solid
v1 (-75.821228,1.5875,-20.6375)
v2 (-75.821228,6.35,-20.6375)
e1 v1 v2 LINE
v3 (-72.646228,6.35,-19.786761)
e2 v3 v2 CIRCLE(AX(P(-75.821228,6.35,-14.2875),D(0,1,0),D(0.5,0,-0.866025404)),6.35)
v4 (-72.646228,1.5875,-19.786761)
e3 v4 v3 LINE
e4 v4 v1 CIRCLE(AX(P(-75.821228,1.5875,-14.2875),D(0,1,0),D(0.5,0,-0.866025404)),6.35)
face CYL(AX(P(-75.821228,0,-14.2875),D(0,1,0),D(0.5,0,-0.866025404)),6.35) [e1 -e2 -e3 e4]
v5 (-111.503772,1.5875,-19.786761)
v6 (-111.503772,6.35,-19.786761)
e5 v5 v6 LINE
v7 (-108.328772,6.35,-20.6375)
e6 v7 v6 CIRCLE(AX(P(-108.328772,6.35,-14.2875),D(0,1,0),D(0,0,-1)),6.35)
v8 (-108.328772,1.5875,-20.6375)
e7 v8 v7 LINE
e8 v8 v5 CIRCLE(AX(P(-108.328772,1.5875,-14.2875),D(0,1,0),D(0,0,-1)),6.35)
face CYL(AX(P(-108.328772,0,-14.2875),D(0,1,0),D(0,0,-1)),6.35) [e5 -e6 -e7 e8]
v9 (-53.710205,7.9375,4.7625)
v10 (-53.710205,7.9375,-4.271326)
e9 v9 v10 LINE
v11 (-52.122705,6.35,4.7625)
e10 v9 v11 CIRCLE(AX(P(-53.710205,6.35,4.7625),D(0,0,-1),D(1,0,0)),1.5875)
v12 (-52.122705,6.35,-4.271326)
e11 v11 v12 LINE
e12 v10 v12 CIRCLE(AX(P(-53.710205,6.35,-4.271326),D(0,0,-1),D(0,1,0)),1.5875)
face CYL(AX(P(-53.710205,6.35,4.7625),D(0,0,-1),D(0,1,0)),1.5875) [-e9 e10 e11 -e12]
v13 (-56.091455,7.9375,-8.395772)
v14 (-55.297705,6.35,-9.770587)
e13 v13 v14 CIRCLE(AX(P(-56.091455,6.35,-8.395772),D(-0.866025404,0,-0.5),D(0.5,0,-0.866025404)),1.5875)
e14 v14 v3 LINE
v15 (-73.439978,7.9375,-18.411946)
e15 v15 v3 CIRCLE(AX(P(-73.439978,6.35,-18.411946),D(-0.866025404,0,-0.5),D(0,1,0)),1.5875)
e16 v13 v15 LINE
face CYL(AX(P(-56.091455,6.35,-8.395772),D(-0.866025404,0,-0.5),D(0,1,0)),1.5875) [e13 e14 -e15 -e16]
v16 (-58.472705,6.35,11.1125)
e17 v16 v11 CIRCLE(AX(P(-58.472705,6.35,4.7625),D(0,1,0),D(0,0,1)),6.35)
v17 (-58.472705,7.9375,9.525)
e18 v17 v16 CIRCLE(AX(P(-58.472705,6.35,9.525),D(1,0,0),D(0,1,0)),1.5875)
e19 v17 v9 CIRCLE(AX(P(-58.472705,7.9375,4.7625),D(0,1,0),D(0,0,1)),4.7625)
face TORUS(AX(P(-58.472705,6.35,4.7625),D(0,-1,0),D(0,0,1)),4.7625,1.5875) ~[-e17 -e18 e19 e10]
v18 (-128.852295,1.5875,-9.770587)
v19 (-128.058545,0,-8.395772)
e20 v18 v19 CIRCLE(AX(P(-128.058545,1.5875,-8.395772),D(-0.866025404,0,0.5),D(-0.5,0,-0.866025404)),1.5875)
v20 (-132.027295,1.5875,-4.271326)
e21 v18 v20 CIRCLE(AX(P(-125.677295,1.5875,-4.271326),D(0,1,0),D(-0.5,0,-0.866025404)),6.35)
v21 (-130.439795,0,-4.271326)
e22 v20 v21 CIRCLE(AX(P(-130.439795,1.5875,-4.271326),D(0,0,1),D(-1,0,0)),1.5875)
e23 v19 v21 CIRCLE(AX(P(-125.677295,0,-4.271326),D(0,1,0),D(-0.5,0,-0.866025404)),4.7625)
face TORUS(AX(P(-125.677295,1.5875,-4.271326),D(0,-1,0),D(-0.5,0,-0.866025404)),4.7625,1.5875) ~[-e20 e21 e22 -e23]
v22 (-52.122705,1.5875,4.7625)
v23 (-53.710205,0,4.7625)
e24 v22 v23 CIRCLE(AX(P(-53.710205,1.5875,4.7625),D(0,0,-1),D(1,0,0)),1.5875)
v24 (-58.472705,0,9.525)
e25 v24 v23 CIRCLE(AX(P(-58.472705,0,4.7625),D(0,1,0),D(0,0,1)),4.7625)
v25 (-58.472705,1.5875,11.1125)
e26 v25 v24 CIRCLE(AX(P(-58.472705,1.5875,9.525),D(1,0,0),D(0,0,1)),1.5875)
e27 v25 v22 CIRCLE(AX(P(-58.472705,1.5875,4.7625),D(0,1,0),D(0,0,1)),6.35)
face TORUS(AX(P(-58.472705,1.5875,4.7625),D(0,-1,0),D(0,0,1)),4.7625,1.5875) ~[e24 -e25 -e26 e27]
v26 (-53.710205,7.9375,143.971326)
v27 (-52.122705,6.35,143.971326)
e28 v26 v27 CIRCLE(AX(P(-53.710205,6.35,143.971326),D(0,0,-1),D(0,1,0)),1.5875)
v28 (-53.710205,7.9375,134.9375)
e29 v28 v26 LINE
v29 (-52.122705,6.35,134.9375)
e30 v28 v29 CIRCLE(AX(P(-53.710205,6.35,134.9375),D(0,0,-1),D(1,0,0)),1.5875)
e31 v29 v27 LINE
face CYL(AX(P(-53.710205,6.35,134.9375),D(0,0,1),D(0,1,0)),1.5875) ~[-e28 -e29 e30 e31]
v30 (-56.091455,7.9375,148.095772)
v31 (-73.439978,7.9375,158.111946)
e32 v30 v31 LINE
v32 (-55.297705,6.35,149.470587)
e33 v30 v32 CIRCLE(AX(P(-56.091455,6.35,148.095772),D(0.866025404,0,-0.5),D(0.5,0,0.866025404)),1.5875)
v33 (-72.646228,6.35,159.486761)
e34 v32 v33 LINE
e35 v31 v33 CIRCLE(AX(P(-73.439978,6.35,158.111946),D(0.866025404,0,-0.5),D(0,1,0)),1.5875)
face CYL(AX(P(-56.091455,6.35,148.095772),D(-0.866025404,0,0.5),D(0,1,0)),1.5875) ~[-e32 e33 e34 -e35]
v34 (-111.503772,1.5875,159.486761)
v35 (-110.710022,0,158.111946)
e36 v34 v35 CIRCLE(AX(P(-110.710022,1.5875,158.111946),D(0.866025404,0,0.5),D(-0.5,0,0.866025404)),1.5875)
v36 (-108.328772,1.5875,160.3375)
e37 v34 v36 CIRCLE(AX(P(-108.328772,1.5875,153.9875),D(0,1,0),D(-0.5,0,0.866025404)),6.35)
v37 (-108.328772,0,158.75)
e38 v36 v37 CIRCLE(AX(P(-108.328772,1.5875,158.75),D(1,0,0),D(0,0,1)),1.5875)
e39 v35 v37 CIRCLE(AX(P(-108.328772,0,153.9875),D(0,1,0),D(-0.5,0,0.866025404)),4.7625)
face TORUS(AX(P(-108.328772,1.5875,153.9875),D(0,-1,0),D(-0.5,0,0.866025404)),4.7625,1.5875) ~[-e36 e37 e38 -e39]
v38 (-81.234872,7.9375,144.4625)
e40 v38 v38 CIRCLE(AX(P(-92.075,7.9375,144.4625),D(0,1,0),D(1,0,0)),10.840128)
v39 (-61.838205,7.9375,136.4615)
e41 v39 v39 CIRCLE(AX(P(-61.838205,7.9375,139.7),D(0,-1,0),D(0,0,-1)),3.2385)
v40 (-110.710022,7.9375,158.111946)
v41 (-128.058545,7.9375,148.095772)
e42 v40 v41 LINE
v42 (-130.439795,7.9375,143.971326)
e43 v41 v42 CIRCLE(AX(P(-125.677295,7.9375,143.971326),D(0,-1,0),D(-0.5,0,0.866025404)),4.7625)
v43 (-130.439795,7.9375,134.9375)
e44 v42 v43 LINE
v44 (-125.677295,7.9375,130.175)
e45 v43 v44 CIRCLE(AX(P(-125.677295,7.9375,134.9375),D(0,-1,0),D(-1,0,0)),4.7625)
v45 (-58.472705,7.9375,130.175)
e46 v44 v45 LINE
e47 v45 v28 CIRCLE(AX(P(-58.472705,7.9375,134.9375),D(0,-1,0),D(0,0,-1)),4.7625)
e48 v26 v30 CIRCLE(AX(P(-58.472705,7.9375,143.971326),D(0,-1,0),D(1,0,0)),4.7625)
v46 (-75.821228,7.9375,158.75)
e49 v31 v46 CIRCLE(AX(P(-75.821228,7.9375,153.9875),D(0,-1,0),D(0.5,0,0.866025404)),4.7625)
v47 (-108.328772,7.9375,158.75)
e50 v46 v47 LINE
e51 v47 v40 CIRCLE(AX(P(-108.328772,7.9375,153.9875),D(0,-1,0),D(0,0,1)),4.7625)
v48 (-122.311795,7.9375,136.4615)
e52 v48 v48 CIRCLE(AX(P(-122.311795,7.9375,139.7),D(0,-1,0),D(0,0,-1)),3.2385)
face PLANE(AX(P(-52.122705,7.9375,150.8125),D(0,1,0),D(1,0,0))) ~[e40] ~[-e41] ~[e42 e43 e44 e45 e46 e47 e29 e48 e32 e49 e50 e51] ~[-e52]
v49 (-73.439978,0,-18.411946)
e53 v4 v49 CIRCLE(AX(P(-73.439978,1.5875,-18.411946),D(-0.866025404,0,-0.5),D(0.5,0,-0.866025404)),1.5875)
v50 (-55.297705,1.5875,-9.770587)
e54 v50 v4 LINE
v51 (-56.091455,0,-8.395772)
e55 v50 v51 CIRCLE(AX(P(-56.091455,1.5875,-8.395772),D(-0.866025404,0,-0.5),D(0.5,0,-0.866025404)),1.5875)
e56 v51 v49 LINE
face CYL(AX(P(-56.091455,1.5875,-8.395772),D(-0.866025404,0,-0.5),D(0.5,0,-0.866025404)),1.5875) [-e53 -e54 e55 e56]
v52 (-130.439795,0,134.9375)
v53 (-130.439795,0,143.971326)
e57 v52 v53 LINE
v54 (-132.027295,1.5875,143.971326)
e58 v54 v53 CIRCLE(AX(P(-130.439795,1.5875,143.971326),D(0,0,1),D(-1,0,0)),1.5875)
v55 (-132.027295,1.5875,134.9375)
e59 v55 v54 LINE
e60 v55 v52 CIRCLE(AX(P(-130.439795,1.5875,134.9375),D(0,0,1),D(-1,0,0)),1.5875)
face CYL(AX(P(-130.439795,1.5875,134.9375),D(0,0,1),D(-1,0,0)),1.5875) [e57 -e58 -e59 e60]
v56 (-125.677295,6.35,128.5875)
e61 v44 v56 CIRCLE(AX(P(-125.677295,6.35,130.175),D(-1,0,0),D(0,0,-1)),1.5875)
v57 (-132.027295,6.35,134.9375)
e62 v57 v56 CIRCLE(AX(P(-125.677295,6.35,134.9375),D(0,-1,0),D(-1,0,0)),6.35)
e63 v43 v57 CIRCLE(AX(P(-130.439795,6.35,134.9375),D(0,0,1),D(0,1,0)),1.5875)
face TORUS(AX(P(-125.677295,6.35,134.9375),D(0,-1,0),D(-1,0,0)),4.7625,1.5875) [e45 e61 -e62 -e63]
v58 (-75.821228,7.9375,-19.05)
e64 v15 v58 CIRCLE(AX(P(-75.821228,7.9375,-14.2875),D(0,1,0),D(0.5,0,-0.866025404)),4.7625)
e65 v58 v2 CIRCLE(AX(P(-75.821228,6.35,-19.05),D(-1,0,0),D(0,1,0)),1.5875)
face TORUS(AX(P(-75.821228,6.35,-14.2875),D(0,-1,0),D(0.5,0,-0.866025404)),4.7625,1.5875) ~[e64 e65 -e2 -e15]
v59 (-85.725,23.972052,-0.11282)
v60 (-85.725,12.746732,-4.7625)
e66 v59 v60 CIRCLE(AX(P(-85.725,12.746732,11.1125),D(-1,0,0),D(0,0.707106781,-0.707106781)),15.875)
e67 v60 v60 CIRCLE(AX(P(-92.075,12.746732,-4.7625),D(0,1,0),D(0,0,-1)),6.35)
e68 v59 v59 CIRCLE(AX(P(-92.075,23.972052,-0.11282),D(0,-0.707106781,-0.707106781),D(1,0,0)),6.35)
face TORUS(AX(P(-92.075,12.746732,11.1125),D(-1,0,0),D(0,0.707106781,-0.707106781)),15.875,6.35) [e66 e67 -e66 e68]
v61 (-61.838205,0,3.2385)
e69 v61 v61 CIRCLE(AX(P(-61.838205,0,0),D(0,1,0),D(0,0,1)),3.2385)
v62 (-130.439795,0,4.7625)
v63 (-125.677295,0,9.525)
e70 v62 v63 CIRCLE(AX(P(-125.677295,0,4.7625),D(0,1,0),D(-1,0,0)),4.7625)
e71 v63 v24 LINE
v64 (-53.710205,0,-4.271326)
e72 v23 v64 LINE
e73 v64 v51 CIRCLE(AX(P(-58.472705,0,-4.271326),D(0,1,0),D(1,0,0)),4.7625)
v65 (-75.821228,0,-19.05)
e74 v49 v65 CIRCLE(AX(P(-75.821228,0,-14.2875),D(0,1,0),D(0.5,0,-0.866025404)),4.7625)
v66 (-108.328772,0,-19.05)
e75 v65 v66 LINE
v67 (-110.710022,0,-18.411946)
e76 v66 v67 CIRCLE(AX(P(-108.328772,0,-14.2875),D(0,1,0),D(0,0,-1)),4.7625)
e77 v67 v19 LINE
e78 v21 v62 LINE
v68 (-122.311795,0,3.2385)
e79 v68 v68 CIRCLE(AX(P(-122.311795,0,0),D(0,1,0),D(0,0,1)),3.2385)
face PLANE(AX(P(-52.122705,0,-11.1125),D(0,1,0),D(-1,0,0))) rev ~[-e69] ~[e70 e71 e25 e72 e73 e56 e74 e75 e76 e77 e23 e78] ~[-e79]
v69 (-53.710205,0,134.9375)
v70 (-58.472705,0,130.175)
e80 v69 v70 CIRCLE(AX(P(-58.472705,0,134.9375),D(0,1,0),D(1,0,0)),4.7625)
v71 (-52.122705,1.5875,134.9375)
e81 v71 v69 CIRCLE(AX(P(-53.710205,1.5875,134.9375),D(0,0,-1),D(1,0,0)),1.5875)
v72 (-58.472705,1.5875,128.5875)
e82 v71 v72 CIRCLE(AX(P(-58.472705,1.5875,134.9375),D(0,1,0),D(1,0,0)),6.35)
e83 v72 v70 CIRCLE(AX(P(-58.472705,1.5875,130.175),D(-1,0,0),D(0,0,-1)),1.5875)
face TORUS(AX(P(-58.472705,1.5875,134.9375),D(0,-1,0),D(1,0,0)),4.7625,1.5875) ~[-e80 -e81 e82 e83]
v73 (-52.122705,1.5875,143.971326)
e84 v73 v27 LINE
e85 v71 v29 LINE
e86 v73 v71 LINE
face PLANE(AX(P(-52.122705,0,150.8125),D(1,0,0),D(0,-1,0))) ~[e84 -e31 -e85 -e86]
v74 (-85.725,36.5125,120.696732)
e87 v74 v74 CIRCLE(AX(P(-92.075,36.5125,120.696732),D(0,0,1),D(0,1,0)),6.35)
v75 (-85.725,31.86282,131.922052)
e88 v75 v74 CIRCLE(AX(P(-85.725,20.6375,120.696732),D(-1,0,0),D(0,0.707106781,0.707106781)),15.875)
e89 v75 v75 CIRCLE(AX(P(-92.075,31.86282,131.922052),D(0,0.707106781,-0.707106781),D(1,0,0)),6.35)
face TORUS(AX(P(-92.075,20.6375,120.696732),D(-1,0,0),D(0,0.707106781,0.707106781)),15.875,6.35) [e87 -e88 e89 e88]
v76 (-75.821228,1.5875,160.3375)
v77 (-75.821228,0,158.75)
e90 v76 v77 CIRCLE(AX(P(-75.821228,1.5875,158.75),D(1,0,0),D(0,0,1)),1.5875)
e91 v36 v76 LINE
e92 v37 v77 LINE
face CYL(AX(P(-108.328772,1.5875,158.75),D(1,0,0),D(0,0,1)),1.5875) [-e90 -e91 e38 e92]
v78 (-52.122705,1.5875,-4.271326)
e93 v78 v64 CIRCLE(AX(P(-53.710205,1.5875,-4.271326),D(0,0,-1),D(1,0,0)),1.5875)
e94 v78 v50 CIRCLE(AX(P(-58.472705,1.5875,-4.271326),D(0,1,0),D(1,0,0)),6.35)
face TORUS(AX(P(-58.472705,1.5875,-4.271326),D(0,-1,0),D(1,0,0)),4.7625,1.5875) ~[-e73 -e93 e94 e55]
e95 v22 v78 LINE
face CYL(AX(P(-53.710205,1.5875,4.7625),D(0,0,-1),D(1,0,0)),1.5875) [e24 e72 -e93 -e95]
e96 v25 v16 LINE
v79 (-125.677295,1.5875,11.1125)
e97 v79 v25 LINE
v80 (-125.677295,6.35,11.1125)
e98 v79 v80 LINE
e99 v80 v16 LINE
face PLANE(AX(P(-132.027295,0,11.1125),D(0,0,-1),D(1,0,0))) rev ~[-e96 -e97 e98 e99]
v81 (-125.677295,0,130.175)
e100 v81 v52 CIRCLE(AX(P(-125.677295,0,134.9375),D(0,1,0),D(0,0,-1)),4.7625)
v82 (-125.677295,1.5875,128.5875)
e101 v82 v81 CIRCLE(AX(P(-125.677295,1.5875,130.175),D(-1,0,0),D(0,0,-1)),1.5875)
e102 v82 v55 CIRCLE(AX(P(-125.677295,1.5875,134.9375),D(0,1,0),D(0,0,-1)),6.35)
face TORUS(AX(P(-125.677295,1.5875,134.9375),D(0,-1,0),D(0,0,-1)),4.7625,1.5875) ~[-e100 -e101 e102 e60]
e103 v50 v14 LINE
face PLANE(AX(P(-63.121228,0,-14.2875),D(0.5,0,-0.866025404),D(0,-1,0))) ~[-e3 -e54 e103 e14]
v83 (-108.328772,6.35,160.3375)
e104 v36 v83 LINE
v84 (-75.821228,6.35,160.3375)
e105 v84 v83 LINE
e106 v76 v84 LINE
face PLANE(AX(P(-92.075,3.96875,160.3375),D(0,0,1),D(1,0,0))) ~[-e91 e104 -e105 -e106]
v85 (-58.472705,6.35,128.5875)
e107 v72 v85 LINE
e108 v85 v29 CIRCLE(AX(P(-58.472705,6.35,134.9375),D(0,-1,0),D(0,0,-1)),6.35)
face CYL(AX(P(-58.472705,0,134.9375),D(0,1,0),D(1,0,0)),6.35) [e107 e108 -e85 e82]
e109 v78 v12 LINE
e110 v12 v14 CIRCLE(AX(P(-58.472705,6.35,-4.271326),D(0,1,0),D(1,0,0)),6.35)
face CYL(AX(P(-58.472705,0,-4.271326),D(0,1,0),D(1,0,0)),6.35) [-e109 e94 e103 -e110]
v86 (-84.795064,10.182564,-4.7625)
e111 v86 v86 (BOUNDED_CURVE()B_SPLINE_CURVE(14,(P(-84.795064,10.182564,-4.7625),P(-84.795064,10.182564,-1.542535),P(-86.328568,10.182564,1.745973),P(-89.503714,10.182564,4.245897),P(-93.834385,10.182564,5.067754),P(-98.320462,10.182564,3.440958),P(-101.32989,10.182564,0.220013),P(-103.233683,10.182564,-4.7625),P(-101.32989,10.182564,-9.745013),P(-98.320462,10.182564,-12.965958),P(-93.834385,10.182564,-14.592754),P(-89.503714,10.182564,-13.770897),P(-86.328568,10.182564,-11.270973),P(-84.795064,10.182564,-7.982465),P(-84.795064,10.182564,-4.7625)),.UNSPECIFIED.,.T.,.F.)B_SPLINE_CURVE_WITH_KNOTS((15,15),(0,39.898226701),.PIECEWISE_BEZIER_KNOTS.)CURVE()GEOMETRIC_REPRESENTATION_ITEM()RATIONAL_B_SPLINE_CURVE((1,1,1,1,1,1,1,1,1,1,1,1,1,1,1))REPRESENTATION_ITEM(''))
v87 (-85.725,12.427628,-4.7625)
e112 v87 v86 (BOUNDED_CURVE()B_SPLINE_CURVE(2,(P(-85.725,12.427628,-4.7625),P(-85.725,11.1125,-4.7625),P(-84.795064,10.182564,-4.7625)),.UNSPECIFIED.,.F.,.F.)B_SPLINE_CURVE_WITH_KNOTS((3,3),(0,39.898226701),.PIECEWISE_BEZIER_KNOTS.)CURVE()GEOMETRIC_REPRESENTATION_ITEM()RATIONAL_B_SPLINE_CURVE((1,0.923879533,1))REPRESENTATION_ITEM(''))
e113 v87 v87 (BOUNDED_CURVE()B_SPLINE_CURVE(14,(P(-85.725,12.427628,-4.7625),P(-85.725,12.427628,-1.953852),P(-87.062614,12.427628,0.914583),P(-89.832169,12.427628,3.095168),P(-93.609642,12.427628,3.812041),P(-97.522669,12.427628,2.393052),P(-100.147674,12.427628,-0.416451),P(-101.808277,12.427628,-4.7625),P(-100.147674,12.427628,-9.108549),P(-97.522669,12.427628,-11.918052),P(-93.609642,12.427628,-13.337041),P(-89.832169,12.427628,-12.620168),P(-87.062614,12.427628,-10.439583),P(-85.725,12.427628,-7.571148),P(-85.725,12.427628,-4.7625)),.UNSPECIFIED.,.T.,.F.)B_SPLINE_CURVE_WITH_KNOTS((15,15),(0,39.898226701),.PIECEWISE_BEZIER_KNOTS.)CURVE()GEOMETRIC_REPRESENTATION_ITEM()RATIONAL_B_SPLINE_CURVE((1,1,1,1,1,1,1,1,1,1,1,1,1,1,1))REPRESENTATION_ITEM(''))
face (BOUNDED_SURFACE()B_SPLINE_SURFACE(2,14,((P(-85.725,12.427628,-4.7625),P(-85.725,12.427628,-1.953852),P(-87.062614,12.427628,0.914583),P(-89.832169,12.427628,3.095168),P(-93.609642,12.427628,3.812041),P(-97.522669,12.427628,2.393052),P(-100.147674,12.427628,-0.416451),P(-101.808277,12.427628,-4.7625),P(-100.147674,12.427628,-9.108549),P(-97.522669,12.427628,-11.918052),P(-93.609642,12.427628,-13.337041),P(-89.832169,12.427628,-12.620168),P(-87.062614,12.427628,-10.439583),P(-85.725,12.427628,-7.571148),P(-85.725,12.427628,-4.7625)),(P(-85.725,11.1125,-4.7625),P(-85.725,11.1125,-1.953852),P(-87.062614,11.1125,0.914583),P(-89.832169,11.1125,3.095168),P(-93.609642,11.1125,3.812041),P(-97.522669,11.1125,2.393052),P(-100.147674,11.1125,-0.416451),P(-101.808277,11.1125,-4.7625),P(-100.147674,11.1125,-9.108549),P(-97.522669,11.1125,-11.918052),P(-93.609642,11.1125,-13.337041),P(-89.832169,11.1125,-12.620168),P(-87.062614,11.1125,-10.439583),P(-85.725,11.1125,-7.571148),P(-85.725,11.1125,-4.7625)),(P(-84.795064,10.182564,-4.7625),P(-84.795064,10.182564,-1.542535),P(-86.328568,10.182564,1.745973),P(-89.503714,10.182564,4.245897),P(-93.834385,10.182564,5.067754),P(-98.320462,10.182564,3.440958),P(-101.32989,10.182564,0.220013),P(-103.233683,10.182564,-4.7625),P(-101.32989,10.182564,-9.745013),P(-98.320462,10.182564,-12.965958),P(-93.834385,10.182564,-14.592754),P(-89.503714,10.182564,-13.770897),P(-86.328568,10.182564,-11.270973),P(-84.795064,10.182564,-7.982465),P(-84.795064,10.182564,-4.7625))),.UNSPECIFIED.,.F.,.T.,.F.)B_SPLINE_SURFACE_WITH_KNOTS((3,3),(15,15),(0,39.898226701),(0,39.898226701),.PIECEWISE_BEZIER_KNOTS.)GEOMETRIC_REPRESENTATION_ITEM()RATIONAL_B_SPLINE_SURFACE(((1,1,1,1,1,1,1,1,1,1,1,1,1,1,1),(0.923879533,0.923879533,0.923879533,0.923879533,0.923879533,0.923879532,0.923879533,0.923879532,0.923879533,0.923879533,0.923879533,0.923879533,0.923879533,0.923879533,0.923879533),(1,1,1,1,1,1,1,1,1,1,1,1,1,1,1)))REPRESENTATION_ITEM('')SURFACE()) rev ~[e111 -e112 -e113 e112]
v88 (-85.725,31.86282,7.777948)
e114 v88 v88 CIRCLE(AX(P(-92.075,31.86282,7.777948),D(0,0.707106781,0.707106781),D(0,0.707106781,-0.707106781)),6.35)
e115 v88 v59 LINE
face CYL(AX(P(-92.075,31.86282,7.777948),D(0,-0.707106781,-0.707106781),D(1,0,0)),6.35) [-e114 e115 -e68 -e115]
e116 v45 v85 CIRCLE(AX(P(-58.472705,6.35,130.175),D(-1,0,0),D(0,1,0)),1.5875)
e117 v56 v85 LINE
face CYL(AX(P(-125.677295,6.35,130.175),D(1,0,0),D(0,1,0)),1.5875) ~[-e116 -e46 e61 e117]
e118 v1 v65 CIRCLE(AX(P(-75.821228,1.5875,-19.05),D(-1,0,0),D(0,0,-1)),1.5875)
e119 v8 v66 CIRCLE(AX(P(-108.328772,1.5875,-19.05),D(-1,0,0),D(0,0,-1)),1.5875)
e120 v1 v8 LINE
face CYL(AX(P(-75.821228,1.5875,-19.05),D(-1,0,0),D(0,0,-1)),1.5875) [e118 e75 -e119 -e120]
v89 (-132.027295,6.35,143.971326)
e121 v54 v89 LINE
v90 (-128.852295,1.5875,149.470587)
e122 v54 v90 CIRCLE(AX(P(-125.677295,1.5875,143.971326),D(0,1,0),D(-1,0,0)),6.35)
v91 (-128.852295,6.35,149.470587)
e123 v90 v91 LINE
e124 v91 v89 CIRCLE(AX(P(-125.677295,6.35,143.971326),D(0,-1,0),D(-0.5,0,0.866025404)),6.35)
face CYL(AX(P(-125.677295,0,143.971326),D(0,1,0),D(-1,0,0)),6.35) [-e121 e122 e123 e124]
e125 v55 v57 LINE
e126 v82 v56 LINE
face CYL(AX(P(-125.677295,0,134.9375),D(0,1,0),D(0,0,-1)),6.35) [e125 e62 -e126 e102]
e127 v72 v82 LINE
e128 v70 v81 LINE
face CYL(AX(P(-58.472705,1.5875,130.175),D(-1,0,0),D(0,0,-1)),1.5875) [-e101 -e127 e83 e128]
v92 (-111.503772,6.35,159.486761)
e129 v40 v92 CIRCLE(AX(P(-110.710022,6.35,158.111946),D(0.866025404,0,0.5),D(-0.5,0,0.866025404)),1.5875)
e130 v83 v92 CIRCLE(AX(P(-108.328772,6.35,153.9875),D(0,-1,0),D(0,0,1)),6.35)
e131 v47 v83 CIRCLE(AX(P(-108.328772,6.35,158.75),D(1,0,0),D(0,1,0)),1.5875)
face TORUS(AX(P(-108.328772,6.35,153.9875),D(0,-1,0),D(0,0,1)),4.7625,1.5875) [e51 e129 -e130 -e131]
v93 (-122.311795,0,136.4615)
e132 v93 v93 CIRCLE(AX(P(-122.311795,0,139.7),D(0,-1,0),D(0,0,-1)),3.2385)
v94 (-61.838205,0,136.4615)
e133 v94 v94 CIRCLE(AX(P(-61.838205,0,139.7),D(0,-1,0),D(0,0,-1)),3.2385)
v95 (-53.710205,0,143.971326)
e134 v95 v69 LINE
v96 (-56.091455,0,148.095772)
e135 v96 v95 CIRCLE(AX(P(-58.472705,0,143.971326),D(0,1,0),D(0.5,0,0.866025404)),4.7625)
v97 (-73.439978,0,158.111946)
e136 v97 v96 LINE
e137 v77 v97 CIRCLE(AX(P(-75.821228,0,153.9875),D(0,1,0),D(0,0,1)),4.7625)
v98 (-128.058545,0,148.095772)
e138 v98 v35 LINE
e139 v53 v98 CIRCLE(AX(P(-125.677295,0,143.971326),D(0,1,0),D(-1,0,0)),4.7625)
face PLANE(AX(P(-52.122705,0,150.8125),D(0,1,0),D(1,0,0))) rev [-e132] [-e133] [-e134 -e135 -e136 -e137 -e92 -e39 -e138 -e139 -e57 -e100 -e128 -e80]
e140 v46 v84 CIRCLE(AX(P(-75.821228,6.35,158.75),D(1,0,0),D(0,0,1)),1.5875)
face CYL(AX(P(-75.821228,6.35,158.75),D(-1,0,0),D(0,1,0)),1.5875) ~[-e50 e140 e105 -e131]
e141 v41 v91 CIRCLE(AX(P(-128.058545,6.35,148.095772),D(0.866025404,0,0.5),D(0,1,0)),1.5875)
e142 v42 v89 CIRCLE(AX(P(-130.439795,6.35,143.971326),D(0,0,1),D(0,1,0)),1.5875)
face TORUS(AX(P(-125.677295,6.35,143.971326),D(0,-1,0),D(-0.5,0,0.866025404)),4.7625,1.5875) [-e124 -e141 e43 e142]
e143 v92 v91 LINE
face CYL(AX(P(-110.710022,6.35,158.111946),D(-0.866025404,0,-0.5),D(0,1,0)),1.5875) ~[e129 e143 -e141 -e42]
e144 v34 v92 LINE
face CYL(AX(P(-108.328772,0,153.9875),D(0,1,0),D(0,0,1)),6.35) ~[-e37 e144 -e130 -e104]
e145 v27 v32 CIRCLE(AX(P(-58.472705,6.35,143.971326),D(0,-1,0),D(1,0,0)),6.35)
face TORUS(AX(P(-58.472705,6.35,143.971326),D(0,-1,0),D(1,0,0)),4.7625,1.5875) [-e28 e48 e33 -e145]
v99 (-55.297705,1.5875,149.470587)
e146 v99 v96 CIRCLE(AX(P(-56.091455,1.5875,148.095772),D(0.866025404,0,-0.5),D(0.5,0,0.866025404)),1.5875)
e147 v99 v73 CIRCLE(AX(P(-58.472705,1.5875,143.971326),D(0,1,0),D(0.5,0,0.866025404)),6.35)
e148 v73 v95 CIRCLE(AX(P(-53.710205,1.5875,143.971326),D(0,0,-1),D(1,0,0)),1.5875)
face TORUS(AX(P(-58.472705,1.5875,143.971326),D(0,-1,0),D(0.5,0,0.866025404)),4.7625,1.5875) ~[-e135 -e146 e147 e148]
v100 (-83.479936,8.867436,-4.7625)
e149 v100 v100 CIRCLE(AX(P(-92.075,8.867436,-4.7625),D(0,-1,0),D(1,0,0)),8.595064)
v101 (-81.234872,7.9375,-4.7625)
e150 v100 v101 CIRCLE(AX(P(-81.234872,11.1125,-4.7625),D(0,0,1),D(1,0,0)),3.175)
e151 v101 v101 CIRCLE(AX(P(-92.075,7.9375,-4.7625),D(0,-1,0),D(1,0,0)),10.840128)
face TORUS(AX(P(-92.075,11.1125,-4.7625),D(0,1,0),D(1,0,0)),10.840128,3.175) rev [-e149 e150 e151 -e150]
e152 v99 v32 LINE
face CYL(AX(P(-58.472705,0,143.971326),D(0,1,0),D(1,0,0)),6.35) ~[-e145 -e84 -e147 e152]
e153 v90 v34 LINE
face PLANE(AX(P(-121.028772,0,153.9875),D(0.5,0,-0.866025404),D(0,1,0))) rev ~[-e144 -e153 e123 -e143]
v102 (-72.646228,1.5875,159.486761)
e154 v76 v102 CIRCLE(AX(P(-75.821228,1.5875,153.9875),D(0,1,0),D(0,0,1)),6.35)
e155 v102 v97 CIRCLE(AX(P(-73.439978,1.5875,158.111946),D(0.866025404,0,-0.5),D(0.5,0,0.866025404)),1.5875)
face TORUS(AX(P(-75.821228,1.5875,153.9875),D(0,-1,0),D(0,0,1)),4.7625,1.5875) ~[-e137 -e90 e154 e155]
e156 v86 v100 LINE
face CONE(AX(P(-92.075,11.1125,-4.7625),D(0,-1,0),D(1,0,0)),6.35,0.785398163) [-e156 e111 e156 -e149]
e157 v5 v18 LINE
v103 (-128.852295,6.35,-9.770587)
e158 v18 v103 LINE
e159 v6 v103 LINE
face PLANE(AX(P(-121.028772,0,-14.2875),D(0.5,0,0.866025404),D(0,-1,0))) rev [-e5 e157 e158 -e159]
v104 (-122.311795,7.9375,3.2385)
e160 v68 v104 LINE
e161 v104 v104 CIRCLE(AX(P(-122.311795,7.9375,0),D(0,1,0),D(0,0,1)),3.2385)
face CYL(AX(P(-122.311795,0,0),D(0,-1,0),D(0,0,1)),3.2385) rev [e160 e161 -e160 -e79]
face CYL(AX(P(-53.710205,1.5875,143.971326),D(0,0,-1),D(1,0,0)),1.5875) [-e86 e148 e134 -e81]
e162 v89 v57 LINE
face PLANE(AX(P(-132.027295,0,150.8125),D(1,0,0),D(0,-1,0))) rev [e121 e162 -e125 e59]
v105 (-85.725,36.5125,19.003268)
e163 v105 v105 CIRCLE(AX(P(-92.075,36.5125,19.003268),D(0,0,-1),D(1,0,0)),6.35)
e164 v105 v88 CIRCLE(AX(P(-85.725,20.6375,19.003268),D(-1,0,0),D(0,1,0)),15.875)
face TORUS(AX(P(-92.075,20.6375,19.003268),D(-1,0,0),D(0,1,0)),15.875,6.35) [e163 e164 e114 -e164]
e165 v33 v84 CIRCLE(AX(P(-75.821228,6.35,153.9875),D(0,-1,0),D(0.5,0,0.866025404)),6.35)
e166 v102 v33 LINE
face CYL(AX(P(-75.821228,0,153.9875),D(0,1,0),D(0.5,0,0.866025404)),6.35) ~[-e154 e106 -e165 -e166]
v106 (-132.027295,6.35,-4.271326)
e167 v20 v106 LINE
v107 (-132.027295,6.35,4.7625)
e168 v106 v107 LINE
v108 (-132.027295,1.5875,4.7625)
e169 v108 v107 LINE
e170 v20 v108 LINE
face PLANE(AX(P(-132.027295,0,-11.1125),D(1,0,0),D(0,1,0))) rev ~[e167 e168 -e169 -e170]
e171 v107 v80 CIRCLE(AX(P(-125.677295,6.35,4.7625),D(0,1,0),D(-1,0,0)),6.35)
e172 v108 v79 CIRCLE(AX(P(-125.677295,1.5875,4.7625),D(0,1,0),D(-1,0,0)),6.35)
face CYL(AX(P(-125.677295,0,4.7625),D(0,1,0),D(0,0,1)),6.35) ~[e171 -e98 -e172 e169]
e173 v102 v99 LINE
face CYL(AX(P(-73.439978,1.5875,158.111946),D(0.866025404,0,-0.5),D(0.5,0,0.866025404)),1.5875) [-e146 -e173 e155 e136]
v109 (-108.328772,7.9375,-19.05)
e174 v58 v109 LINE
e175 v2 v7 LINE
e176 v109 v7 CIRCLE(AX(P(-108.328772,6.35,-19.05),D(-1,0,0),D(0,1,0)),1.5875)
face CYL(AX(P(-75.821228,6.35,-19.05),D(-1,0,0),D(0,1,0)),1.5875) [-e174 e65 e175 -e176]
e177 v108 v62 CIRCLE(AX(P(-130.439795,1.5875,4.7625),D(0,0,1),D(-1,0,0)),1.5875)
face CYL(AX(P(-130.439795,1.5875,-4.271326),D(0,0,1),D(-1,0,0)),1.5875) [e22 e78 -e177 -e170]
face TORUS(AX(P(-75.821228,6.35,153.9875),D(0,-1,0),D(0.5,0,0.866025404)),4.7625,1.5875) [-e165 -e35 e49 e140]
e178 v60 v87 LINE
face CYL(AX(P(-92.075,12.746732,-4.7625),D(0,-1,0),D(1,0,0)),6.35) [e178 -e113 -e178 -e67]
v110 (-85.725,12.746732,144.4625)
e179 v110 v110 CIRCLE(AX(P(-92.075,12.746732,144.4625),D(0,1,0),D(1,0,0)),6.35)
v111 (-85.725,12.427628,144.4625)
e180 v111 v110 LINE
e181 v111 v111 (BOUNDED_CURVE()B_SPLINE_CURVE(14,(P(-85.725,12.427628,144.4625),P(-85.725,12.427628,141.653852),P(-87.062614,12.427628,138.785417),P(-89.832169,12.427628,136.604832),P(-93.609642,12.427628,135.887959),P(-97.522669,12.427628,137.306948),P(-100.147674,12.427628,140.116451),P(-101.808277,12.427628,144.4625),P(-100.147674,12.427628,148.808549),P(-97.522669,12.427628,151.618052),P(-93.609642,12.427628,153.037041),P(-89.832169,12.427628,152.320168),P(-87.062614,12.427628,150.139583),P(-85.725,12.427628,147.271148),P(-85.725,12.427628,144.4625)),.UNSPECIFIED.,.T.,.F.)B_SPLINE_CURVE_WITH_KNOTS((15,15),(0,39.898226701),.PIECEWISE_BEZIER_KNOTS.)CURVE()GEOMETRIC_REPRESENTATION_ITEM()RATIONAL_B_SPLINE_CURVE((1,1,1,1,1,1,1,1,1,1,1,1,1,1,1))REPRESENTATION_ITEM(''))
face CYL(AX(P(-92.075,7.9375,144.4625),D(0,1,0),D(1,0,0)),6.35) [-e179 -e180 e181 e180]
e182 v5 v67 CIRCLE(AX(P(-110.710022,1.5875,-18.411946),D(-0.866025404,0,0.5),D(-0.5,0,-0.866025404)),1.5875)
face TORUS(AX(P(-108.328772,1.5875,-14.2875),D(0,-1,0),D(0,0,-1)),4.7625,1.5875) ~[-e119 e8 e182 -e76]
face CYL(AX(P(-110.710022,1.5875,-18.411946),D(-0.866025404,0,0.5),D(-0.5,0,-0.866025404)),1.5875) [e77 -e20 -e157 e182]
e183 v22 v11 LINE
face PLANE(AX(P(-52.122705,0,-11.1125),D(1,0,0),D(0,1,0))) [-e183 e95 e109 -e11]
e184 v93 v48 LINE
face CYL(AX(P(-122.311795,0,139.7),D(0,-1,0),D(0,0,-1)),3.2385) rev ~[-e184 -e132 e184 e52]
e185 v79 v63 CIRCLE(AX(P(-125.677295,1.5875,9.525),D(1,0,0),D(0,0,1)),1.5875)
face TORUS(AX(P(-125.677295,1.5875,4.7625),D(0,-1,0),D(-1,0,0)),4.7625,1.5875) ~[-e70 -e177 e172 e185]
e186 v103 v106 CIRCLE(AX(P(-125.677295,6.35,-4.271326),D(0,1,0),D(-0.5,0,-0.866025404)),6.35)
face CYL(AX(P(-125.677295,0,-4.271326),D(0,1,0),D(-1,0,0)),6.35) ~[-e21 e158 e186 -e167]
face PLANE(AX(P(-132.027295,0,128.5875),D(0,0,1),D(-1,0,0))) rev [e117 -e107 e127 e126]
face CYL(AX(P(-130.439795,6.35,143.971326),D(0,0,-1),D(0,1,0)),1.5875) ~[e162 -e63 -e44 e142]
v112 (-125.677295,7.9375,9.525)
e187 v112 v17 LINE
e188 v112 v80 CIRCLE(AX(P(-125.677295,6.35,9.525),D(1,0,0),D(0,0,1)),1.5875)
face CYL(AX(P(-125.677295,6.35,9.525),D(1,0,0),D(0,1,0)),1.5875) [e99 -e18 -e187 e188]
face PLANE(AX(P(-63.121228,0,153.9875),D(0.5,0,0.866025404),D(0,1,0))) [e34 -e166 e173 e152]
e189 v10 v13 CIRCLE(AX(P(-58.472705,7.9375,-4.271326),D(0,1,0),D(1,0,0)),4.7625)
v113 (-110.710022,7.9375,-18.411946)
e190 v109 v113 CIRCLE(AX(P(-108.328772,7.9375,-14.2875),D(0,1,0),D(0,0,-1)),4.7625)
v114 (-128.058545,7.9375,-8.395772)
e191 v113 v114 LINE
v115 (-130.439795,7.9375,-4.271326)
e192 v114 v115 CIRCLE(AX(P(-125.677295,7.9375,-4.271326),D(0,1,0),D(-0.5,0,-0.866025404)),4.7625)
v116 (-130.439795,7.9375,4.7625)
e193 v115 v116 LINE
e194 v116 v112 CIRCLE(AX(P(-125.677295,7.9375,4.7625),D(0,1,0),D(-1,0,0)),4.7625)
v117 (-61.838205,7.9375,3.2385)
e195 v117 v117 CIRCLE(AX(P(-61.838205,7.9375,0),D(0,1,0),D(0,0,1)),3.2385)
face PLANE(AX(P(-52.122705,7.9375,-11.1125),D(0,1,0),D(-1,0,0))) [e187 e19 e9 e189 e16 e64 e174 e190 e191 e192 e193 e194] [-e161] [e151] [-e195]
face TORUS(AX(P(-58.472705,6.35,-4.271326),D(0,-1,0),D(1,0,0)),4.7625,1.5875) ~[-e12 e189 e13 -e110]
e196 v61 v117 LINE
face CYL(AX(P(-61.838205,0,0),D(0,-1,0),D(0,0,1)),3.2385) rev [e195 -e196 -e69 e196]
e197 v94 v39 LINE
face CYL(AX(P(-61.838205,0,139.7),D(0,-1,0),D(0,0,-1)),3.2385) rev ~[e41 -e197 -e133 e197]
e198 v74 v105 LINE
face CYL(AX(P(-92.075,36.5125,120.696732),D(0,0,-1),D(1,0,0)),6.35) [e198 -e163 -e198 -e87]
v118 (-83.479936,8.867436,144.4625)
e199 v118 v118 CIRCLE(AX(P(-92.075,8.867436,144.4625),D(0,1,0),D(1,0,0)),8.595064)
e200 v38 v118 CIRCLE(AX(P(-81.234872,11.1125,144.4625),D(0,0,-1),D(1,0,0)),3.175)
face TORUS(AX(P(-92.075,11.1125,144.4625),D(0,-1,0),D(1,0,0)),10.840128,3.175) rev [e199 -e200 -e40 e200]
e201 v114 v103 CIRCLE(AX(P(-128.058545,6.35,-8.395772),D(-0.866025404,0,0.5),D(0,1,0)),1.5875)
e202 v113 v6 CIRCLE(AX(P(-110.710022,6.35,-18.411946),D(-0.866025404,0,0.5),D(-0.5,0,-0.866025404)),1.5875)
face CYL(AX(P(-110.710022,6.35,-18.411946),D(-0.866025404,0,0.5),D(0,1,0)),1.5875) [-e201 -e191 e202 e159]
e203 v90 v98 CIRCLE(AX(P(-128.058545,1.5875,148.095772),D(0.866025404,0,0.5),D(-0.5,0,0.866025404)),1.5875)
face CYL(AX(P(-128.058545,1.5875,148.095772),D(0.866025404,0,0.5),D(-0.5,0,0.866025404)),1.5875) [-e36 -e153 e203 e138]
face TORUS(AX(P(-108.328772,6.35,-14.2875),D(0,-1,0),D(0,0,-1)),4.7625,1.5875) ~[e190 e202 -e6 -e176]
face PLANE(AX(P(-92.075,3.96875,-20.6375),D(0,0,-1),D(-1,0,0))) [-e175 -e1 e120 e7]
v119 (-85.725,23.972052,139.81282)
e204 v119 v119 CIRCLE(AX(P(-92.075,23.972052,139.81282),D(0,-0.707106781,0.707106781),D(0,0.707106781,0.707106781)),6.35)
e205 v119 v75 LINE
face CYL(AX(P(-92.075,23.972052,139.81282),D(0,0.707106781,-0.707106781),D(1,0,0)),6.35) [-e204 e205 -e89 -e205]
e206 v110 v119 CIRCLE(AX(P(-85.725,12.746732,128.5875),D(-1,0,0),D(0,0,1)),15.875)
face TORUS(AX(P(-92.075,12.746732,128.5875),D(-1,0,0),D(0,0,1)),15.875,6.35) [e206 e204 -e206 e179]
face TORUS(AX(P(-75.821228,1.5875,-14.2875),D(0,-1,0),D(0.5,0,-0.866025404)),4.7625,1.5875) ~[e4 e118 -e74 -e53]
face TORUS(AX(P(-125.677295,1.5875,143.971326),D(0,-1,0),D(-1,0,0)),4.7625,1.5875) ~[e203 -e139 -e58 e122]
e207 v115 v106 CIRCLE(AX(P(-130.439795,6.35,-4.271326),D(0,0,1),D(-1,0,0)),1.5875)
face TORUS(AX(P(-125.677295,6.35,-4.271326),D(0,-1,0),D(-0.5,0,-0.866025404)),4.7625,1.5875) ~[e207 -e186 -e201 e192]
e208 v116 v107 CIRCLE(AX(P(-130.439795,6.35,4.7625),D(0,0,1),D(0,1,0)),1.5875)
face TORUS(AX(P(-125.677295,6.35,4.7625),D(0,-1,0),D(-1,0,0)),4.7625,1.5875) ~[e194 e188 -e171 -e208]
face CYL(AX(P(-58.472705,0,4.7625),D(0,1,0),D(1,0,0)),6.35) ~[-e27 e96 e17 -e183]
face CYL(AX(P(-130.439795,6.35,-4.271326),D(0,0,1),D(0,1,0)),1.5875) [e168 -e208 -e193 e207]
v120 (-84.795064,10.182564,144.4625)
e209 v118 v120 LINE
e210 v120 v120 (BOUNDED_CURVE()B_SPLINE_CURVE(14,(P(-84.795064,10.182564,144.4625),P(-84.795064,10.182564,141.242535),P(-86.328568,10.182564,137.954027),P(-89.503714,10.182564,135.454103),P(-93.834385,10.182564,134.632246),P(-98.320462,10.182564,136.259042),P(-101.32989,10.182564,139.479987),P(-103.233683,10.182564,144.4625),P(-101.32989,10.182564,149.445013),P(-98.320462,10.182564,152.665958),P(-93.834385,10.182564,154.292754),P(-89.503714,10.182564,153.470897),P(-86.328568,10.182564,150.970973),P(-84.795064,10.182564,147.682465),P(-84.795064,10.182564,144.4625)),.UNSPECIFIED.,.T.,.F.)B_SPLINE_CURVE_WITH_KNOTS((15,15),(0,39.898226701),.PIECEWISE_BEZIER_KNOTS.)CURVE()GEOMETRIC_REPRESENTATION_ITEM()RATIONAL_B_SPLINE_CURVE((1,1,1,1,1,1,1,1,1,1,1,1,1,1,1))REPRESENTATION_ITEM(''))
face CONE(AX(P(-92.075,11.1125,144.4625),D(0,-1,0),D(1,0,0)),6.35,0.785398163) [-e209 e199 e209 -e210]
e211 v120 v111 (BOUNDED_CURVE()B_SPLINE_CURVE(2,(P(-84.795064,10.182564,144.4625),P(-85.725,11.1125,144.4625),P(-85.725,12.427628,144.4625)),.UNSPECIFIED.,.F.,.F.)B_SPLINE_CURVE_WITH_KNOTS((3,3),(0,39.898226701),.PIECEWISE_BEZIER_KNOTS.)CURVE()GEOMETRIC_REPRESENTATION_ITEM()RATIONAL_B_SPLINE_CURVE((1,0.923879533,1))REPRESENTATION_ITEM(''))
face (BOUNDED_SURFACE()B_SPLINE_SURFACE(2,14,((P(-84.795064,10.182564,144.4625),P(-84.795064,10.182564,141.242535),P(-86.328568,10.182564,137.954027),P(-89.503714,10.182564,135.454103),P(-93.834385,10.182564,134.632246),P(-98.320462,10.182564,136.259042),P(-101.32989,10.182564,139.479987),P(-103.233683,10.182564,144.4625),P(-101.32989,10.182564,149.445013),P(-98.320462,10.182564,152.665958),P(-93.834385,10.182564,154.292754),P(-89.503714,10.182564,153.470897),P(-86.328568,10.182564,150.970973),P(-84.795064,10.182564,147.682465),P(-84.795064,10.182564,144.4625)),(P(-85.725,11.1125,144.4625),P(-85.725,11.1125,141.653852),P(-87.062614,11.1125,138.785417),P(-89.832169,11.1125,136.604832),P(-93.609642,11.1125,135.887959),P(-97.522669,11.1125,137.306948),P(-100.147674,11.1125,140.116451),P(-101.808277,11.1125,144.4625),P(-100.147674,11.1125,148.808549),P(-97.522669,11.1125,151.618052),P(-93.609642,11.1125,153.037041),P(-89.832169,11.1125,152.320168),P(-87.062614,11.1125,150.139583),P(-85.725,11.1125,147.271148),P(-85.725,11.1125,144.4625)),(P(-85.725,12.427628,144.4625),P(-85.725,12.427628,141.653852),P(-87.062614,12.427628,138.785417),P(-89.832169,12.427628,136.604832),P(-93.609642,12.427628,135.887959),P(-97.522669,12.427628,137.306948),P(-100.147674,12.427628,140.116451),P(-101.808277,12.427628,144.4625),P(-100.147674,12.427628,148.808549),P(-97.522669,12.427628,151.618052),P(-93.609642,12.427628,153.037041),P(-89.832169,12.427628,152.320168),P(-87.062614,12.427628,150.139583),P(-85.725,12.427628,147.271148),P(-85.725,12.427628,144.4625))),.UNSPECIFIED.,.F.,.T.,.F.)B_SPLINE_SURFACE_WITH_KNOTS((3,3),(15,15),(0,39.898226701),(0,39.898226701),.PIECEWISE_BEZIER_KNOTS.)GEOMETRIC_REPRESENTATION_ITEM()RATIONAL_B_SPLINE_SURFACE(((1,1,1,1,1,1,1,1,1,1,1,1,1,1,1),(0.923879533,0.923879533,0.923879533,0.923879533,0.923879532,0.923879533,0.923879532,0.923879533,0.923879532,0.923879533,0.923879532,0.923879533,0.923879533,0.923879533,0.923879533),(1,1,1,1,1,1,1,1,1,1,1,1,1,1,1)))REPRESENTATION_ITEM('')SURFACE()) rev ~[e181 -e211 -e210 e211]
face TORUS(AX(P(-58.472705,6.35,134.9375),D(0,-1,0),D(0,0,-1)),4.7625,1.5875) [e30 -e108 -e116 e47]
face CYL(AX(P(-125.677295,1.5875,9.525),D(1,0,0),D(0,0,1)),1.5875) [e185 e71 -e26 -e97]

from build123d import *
from OCP.BRepFilletAPI import BRepFilletAPI_MakeChamfer

# Parameters (mm, degrees)
SKETCH1_W           = 79.90459
SKETCH1_H           = 22.225
SKETCH1_R           = 3.2385
BOSS_EXTRUDE1_DEPTH = 7.9375
SKETCH6_W           = 79.90459
SKETCH6_H           = 7.9375
BOSS_EXTRUDE3_DEPTH = 9.525
SKETCH5_R           = 6.35
CHAMFER1_SIZE       = 3.175
CHAMFER2_SIZE       = 12.7
CHAMFER2_SIZE2      = 21.997045256
FILLET1_R           = 3.175
FILLET3_R           = 6.35
FILLET4_R           = 1.5875


with BuildPart() as part:
    # Sketch1 → Boss-Extrude1 (new body)
    with BuildSketch(Plane(origin=(0, 0, 0), x_dir=(1, 0, 0), z_dir=(0, 1, 0))):
        with Locations((-92.075, 0)):
            Rectangle(SKETCH1_W, SKETCH1_H)
        with Locations(Location((-122.311795, 0, 0), (0, 0, 270))):
            Circle(SKETCH1_R, mode=Mode.SUBTRACT)
        with Locations(Location((-61.838205, 0, 0), (0, 0, 270))):
            Circle(SKETCH1_R, mode=Mode.SUBTRACT)
    extrude(amount=BOSS_EXTRUDE1_DEPTH)

    # Sketch6 → Boss-Extrude3 (add)
    with BuildSketch(Plane(origin=(0, 0, -11.1125), x_dir=(-1, 0, 0), z_dir=(0, 0, -1))):
        with Locations((92.075, 3.96875)):
            Rectangle(SKETCH6_W, SKETCH6_H)
    extrude(amount=BOSS_EXTRUDE3_DEPTH)


with BuildPart() as body_2:
    # Mirror3: mirrored copy
    add(part.part.mirror(Plane.XY.offset(69.85)))


with BuildPart() as part_1:
    add(part.part)

    add(body_2.part)  # Sweep1 merges body 2
    # Sweep1: sweep along a path in Sketch4
    with BuildLine(Plane(origin=(-92.075, 0, 0), x_dir=(0, 0, -1), z_dir=(1, 0, 0))) as sweep1_path:
        Line((-147.6375, 7.9375), (-147.6375, 12.746731637))
        ThreePointArc((-147.6375, 12.746731637), (-146.187405094, 20.036851023), (-142.057884182, 26.217115818))
        Line((-142.057884182, 26.217115818), (-134.167115818, 34.107884182))
        ThreePointArc((-134.167115818, 34.107884182), (-127.986851023, 38.237405094), (-120.696731637, 39.6875))
        Line((-120.696731637, 39.6875), (-19.003268363, 39.6875))
        ThreePointArc((-19.003268363, 39.6875), (-11.713148977, 38.237405094), (-5.532884182, 34.107884182))
        Line((-5.532884182, 34.107884182), (2.357884182, 26.217115818))
        ThreePointArc((2.357884182, 26.217115818), (6.487405094, 20.036851023), (7.9375, 12.746731637))
        Line((7.9375, 12.746731637), (7.9375, 7.9375))
    # Sketch5 → Sweep1 (sweep)
    with BuildSketch(Plane(origin=(0, 7.9375, 0), x_dir=(1, 0, 0), z_dir=(0, 1, 0))):
        with Locations((-92.075, 4.7625)):
            Circle(SKETCH5_R)
    sweep(path=sweep1_path.line)

    # Chamfer1
    chamfer1_edges = [part_1.edges().sort_by_distance(p)[0] for p in [
        (-98.425, 7.9375, 144.4625),
        (-98.425, 7.9375, -4.7625),
    ]]
    chamfer(chamfer1_edges, length=CHAMFER1_SIZE)

    # Chamfer2: one chamfer whose edges measure the first distance from different faces: ONE call of the kernel's chamfer builder (chamfer() names one face for all edges)
    chamfer2_edges_1 = [part_1.edges().sort_by_distance(p)[0] for p in [
        (-52.122705, 3.96875, -20.6375),
    ]]
    chamfer2_side_1 = [part_1.faces().sort_by_distance(p)[0] for p in [
        (-52.122705, 3.96875, -4.7625),
    ]]
    chamfer2_edges_2 = [part_1.edges().sort_by_distance(p)[0] for p in [
        (-132.027295, 3.96875, -20.6375),
    ]]
    chamfer2_side_2 = [part_1.faces().sort_by_distance(p)[0] for p in [
        (-132.027295, 3.96875, -4.7625),
    ]]
    chamfer2_edges_3 = [part_1.edges().sort_by_distance(p)[0] for p in [
        (-52.122705, 3.96875, 160.3375),
    ]]
    chamfer2_side_3 = [part_1.faces().sort_by_distance(p)[0] for p in [
        (-52.122705, 3.96875, 144.4625),
    ]]
    chamfer2_edges_4 = [part_1.edges().sort_by_distance(p)[0] for p in [
        (-132.027295, 3.96875, 160.3375),
    ]]
    chamfer2_side_4 = [part_1.faces().sort_by_distance(p)[0] for p in [
        (-132.027295, 3.96875, 144.4625),
    ]]
    chamfer2 = BRepFilletAPI_MakeChamfer(part_1.part.solid().wrapped)
    for e in chamfer2_edges_1:
        chamfer2.Add(CHAMFER2_SIZE, CHAMFER2_SIZE2, e.wrapped, chamfer2_side_1[0].wrapped)  # the first distance lies on this face
    for e in chamfer2_edges_2:
        chamfer2.Add(CHAMFER2_SIZE, CHAMFER2_SIZE2, e.wrapped, chamfer2_side_2[0].wrapped)  # the first distance lies on this face
    for e in chamfer2_edges_3:
        chamfer2.Add(CHAMFER2_SIZE, CHAMFER2_SIZE2, e.wrapped, chamfer2_side_3[0].wrapped)  # the first distance lies on this face
    for e in chamfer2_edges_4:
        chamfer2.Add(CHAMFER2_SIZE, CHAMFER2_SIZE2, e.wrapped, chamfer2_side_4[0].wrapped)  # the first distance lies on this face
    add(Compound.cast(chamfer2.Shape()), mode=Mode.REPLACE)

    # Fillet1
    fillet1_edges = [part_1.edges().sort_by_distance(p)[0] for p in [
        (-101.6, 7.9375, 144.4625),
        (-98.425, 11.1125, 144.4625),
        (-98.425, 11.1125, -4.7625),
        (-101.6, 7.9375, -4.7625),
    ]]
    fillet(fillet1_edges, radius=FILLET1_R)

    # Fillet3
    fillet3_edges = [part_1.edges().sort_by_distance(p)[0] for p in [
        (-52.122705, 3.96875, 11.1125),
        (-132.027295, 3.96875, 11.1125),
        (-132.027295, 3.96875, 128.5875),
        (-52.122705, 3.96875, 128.5875),
        (-52.122705, 3.96875, 147.6375),
        (-110.030249744, 3.96875, 160.3375),
        (-74.119750256, 3.96875, 160.3375),
        (-132.027295, 3.96875, 147.6375),
        (-74.119750256, 3.96875, -20.6375),
        (-110.030249744, 3.96875, -20.6375),
        (-132.027295, 3.96875, -7.9375),
        (-52.122705, 3.96875, -7.9375),
    ]]
    fillet(fillet3_edges, radius=FILLET3_R)

    # Fillet4
    fillet4_edges = [part_1.edges().sort_by_distance(p)[0] for p in [
        (-132.027295, 0, 139.454412895),
        (-132.027295, 7.9375, 139.454412895),
        (-92.075, 7.9375, 160.3375),
        (-63.971966314, 7.9375, 154.478674209),
        (-52.122705, 7.9375, 139.454412895),
        (-92.075, 7.9375, 128.5875),
        (-120.178033686, 7.9375, 154.478674209),
        (-130.167423061, 7.9375, 130.447371939),
        (-53.982576939, 7.9375, 130.447371939),
        (-52.973443686, 7.9375, 147.146325791),
        (-74.177726692, 7.9375, 160.121128997),
        (-109.972273308, 7.9375, 160.121128997),
        (-131.176556314, 7.9375, 147.146325791),
        (-120.178033686, 0, 154.478674209),
        (-52.122705, 0, 139.454412895),
        (-63.971966314, 0, 154.478674209),
        (-92.075, 0, 160.3375),
        (-92.075, 0, 128.5875),
        (-130.167423061, 0, 130.447371939),
        (-53.982576939, 0, 130.447371939),
        (-52.973443686, 0, 147.146325791),
        (-74.177726692, 0, 160.121128997),
        (-109.972273308, 0, 160.121128997),
        (-131.176556314, 0, 147.146325791),
        (-92.075, 0, -20.6375),
        (-92.075, 7.9375, -20.6375),
        (-132.027295, 0, 0.245587105),
        (-120.178033686, 0, -14.778674209),
        (-63.971966314, 0, -14.778674209),
        (-52.122705, 0, 0.245587105),
        (-92.075, 0, 11.1125),
        (-53.982576939, 0, 9.252628061),
        (-130.167423061, 0, 9.252628061),
        (-52.973443686, 0, -7.446325791),
        (-131.176556314, 0, -7.446325791),
        (-109.972273308, 0, -20.421128997),
        (-74.177726692, 0, -20.421128997),
        (-63.971966314, 7.9375, -14.778674209),
        (-120.178033686, 7.9375, -14.778674209),
        (-132.027295, 7.9375, 0.245587105),
        (-92.075, 7.9375, 11.1125),
        (-52.122705, 7.9375, 0.245587105),
        (-53.982576939, 7.9375, 9.252628061),
        (-130.167423061, 7.9375, 9.252628061),
        (-52.973443686, 7.9375, -7.446325791),
        (-131.176556314, 7.9375, -7.446325791),
        (-109.972273308, 7.9375, -20.421128997),
        (-74.177726692, 7.9375, -20.421128997),
    ]]
    fillet(fillet4_edges, radius=FILLET4_R)


solid = part_1.part
